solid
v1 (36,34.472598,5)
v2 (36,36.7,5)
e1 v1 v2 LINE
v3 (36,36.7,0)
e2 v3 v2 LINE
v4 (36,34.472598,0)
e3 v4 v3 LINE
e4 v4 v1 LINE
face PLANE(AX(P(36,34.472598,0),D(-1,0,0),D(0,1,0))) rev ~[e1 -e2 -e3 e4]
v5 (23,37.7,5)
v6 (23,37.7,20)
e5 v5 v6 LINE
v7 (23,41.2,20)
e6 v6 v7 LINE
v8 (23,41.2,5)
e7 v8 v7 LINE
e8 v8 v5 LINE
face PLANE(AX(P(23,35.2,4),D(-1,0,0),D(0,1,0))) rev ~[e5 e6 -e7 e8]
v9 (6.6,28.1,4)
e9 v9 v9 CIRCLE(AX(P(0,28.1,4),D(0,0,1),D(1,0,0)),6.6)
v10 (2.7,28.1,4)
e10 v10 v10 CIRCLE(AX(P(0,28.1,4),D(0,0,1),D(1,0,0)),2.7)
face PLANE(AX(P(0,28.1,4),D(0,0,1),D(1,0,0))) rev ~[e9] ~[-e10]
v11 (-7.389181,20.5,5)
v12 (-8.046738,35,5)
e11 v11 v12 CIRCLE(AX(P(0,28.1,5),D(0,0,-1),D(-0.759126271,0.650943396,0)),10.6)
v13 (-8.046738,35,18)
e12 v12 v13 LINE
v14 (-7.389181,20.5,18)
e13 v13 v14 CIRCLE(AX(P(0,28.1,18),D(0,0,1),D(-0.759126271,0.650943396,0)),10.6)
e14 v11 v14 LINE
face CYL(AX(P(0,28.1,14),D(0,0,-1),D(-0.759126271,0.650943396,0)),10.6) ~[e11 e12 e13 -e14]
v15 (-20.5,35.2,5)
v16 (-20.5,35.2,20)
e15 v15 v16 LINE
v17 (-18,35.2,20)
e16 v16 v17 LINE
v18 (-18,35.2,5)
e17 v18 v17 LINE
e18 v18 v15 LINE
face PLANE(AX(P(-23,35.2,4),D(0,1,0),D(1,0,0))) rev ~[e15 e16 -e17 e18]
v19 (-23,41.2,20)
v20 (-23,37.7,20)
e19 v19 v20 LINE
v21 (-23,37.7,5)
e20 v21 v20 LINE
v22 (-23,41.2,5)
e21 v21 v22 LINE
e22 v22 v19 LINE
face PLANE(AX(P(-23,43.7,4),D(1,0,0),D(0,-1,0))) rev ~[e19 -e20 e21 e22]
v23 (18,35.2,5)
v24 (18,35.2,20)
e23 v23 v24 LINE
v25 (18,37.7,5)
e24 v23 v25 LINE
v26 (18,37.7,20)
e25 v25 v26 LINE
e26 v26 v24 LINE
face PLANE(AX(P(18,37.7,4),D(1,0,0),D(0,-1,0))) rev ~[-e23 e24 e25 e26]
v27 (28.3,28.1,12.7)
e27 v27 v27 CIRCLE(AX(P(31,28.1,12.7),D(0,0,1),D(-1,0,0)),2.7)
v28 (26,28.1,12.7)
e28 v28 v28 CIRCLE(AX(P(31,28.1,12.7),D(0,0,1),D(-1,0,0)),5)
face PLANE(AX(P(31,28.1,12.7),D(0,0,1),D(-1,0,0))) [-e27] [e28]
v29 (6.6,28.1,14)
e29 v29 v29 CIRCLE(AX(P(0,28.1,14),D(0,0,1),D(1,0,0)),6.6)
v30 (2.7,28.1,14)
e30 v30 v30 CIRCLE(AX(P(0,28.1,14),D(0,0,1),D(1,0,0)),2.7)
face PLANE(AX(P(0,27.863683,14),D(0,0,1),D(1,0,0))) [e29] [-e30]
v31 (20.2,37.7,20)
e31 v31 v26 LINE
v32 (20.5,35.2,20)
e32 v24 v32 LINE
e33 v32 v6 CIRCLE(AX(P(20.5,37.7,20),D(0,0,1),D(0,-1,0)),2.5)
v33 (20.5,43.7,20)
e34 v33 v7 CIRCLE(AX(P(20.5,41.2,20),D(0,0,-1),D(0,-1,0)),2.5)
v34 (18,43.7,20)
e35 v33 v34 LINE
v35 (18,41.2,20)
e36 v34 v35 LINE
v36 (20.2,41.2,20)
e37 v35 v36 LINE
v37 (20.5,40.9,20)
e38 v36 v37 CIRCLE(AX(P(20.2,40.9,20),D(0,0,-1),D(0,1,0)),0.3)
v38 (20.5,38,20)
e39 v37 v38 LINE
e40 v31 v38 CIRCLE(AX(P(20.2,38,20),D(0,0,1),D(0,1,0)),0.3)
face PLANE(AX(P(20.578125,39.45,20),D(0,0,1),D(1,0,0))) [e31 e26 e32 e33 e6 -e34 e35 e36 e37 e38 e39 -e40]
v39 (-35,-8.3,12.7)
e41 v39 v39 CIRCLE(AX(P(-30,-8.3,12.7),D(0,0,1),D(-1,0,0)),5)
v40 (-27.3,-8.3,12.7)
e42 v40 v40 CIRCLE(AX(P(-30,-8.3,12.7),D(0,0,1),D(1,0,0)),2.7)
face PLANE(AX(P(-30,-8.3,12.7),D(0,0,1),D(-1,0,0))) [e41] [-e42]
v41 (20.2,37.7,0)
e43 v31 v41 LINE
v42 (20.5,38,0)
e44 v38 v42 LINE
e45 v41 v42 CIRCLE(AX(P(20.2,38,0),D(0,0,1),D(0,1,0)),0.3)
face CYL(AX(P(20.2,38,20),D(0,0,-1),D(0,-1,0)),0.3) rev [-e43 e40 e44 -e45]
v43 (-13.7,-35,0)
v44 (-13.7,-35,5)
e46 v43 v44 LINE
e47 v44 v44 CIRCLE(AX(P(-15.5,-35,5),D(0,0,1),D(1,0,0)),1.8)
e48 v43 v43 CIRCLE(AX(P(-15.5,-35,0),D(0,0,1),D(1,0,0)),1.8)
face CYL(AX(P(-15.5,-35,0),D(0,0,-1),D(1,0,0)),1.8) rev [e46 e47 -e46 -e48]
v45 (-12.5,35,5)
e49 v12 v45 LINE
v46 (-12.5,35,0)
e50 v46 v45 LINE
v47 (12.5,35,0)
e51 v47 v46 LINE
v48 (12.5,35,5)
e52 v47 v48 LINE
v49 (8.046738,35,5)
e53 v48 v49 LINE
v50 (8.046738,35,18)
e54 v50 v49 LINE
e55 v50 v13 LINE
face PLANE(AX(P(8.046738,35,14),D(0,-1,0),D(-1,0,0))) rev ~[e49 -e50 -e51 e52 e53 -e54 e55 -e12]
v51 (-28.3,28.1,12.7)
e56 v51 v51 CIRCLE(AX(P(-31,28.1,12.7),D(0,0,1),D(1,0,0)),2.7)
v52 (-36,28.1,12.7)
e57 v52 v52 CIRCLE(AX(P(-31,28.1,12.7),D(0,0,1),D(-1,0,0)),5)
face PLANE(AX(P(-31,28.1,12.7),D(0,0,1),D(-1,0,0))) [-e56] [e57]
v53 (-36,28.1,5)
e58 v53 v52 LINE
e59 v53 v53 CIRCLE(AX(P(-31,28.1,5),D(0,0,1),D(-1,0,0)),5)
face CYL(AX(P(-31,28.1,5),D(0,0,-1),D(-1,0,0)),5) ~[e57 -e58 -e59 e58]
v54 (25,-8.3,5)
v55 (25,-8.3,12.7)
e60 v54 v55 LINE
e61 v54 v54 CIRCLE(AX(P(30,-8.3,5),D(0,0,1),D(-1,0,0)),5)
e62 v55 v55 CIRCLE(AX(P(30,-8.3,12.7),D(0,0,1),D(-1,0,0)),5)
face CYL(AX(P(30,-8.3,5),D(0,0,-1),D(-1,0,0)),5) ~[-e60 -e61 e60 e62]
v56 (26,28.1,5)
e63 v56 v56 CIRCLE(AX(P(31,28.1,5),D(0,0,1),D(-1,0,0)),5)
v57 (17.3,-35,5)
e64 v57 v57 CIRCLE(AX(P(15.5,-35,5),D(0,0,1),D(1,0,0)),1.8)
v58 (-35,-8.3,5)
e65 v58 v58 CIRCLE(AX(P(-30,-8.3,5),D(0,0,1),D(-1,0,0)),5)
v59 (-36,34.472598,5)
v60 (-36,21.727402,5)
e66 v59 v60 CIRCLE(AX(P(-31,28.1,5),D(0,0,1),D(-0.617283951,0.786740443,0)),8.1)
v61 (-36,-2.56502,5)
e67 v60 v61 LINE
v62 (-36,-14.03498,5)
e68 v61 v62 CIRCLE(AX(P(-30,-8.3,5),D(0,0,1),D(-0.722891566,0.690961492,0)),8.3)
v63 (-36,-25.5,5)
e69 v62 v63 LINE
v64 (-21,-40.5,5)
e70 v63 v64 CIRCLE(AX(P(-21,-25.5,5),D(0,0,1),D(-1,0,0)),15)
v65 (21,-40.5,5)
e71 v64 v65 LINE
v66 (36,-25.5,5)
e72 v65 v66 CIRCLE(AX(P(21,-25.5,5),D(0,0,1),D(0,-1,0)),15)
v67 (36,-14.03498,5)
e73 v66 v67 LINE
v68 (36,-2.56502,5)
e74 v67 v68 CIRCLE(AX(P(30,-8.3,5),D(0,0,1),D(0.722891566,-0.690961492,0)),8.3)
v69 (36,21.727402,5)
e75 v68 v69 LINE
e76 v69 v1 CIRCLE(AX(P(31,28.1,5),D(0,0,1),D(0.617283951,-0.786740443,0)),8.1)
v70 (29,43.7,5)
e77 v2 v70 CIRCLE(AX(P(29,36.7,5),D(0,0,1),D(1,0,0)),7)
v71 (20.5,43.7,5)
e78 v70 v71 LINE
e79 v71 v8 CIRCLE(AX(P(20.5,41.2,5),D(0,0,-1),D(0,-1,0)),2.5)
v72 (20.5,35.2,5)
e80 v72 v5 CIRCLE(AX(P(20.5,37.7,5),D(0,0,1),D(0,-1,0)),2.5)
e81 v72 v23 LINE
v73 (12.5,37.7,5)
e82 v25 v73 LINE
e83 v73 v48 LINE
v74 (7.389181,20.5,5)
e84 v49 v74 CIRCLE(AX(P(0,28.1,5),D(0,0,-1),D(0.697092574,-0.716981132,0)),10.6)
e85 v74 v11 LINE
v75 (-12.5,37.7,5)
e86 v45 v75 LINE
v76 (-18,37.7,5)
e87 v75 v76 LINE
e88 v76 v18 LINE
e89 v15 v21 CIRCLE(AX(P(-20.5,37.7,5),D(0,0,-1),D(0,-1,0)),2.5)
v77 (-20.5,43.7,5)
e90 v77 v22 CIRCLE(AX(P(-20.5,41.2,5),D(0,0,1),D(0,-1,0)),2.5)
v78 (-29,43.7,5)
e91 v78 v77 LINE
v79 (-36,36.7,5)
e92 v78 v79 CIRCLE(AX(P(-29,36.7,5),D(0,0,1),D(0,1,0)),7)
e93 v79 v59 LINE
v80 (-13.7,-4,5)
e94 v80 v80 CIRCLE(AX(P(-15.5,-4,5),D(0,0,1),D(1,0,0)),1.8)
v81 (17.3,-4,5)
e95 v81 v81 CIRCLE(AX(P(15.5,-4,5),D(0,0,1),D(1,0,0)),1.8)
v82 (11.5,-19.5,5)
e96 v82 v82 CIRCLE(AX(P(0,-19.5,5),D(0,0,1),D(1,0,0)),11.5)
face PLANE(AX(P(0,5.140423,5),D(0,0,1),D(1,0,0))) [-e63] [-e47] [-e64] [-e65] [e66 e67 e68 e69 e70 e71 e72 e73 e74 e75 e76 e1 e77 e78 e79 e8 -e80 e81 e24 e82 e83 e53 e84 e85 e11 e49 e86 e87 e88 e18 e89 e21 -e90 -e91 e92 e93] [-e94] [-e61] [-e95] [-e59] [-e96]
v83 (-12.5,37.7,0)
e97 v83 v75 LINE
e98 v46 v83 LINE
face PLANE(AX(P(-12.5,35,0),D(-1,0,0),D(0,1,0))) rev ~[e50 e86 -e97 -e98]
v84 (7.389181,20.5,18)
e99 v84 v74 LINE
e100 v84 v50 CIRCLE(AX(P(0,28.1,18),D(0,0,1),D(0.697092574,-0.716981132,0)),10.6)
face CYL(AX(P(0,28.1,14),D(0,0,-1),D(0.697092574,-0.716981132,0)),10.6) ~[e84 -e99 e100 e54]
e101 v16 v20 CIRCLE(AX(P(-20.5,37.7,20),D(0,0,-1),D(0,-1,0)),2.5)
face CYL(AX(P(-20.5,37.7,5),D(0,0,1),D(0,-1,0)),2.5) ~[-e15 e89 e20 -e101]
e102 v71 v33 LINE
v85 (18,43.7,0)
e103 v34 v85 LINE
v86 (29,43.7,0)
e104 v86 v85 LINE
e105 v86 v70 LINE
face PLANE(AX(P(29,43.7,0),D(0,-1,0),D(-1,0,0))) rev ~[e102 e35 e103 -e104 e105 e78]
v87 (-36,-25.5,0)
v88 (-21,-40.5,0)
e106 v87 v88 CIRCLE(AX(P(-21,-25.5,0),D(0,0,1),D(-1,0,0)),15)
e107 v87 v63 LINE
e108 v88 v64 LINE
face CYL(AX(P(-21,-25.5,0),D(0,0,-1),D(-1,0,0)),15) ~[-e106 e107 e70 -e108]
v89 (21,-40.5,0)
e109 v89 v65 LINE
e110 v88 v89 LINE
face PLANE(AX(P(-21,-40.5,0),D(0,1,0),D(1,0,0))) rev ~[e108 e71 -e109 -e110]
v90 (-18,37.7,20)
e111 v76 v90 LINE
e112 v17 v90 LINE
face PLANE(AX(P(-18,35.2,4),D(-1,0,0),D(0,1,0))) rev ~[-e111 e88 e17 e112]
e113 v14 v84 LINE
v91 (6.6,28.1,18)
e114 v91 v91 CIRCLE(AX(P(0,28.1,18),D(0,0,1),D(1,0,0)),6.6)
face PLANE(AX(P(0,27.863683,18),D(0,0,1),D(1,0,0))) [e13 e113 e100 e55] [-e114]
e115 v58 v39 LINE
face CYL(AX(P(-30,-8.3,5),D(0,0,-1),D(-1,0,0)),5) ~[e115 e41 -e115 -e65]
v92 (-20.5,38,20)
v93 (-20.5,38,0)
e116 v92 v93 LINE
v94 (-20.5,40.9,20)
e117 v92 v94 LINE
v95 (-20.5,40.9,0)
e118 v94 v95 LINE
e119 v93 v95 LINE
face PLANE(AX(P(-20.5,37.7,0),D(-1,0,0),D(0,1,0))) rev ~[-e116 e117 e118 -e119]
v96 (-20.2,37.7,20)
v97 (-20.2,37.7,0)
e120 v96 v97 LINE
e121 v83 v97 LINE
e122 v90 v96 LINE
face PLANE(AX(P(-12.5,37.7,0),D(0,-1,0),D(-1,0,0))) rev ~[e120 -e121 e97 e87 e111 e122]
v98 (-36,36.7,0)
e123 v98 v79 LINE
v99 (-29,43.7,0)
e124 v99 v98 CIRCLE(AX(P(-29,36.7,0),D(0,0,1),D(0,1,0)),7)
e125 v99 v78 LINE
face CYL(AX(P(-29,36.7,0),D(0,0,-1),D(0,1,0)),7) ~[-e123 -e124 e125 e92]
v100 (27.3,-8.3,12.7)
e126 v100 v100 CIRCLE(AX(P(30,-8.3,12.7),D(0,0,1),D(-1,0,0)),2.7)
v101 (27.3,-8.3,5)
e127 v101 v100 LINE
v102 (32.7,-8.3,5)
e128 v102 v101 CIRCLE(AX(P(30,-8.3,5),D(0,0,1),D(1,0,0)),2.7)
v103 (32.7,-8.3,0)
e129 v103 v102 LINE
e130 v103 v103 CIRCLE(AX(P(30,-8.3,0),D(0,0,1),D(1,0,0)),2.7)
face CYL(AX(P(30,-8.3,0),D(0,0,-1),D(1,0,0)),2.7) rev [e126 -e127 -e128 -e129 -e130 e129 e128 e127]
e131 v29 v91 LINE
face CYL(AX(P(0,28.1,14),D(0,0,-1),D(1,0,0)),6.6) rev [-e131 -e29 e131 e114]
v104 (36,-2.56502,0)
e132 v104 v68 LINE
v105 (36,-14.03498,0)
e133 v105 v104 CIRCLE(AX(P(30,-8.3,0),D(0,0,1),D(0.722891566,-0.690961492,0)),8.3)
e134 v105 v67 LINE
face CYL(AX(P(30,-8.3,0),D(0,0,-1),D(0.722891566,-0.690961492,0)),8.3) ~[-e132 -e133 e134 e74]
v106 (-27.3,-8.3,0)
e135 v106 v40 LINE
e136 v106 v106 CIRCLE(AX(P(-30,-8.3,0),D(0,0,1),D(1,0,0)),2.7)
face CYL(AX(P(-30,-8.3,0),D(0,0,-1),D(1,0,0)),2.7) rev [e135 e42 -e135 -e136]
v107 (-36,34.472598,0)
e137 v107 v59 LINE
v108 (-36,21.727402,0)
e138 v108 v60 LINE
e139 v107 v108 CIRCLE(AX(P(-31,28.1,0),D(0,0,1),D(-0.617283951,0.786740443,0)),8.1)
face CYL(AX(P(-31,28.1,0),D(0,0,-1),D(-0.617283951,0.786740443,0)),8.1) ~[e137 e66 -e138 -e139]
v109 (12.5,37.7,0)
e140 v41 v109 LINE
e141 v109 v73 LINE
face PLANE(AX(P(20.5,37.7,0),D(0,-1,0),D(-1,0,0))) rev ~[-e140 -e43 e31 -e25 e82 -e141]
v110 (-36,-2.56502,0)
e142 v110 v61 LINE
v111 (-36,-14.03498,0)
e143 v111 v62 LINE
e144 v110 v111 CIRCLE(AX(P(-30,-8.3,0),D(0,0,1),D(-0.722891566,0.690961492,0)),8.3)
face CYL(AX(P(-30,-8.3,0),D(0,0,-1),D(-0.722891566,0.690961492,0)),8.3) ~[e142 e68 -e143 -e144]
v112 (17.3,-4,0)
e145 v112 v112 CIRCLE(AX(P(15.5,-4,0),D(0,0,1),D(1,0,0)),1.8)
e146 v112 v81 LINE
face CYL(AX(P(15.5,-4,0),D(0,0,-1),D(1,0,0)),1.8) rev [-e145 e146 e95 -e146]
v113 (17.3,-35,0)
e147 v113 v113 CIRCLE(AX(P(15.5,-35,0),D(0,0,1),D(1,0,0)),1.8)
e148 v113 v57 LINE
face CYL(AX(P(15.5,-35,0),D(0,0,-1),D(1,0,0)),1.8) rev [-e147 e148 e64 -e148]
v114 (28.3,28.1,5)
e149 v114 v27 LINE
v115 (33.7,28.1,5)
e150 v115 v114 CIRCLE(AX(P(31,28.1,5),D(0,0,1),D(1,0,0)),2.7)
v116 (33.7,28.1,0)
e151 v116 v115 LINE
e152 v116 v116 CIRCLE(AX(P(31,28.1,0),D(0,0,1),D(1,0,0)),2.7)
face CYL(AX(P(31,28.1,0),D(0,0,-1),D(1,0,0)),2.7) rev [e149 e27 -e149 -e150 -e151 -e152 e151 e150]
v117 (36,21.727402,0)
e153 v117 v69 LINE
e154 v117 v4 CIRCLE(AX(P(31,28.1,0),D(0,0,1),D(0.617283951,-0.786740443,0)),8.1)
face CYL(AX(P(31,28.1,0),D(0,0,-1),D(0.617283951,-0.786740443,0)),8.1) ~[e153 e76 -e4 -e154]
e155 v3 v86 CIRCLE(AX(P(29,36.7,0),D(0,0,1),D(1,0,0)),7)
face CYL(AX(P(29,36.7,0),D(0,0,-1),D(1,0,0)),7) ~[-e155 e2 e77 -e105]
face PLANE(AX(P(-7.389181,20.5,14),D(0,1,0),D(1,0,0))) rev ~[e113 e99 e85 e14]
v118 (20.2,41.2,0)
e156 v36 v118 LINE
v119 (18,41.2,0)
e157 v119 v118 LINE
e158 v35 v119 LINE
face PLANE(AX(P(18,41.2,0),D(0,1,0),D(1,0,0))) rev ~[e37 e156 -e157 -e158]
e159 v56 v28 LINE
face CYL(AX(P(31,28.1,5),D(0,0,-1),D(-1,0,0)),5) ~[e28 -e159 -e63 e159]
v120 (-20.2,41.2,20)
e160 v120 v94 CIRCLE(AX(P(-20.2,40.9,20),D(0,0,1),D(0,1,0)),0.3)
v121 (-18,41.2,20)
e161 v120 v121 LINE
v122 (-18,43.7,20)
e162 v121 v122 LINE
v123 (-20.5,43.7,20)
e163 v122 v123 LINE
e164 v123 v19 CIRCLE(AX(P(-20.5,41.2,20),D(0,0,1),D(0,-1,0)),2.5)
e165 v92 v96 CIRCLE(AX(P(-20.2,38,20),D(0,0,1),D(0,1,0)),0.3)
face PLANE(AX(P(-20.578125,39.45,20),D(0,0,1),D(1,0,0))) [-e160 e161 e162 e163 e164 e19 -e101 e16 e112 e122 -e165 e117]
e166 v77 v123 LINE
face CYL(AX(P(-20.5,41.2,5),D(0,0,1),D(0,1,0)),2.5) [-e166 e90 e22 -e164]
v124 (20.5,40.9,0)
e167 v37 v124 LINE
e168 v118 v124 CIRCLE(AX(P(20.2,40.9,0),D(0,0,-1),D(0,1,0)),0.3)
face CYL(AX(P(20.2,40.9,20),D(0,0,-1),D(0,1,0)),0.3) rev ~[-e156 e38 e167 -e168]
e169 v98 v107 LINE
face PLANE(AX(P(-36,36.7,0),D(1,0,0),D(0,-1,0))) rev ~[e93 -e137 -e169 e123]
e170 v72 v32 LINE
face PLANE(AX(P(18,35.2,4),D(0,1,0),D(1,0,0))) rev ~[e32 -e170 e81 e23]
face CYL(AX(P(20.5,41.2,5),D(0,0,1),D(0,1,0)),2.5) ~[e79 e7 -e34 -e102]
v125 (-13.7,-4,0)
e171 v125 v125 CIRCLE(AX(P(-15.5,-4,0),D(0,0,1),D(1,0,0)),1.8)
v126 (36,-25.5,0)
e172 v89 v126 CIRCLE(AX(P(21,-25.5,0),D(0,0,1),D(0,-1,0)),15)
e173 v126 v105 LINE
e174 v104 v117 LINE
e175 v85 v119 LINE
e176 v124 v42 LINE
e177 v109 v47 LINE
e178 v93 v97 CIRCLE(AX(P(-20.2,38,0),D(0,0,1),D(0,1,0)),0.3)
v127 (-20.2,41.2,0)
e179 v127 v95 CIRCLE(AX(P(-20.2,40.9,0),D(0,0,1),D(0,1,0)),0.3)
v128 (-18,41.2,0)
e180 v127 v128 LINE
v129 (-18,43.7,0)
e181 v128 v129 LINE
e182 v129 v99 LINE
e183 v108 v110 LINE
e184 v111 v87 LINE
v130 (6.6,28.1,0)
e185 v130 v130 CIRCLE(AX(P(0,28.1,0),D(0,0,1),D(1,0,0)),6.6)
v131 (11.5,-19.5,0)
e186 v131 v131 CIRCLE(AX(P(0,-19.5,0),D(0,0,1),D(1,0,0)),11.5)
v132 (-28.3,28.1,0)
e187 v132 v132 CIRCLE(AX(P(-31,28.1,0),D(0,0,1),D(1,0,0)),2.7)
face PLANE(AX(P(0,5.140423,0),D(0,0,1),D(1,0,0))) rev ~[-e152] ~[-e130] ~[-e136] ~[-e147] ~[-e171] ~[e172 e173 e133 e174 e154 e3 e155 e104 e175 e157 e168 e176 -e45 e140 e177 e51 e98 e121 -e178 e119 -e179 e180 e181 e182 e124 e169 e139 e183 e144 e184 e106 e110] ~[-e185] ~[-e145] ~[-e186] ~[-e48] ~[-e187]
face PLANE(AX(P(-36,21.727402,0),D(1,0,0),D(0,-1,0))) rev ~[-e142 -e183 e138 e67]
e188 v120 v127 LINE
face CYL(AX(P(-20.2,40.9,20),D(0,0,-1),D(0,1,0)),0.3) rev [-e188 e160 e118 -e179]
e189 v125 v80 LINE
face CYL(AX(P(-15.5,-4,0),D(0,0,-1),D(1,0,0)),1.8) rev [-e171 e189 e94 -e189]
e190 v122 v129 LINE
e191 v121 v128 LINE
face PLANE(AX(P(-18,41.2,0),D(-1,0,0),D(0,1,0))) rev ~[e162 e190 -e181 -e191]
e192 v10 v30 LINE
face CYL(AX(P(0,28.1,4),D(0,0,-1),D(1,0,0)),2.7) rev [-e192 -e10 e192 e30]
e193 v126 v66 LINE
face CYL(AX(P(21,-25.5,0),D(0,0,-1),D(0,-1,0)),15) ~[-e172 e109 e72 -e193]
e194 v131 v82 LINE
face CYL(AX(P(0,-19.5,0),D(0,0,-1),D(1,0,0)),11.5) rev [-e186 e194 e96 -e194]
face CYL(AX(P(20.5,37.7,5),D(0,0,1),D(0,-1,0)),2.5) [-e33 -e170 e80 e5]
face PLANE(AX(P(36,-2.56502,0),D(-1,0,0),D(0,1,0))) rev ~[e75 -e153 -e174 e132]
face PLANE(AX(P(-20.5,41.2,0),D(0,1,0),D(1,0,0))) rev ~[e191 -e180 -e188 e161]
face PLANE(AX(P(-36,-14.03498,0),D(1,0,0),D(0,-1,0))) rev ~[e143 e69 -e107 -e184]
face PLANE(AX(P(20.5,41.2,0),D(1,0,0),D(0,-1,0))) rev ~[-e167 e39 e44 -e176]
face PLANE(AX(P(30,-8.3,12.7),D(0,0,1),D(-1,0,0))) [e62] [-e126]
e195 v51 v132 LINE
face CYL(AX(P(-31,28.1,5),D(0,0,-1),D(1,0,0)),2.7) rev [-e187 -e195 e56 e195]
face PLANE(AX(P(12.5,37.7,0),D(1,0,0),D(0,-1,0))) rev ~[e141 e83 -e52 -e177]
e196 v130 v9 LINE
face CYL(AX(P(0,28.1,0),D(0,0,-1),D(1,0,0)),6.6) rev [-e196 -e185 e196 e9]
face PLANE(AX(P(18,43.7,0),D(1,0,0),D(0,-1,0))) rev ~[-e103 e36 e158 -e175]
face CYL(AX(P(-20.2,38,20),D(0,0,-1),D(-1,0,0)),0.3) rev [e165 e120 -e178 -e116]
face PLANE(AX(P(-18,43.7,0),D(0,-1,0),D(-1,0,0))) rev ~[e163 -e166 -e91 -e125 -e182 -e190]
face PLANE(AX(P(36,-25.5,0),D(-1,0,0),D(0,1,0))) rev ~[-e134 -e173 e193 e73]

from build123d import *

# Parameters (mm, degrees)
SKETCH_1_R      = 2.7
SKETCH_1_R_2    = 6.6
SKETCH_1_R_3    = 1.8
SKETCH_1_R_4    = 11.5
EXTRUDE_1_DEPTH = 5
EXTRUDE_START   = 4
EXTRUDE_3_DEPTH = 16
FILLET_1_R      = 2.5
FILLET_2_R      = 0.3
SKETCH_9_R      = 5
SKETCH_9_R_2    = 2.7
EXTRUDE_4_DEPTH = 7.7
SKETCH_1_5_R    = 6.6
SKETCH_1_5_R_2  = 2.7
EXTRUDE_5_DEPTH = 10
EXTRUDE_START_2 = 14
SKETCH_1_6_R    = 6.6
EXTRUDE_6_DEPTH = 4


with BuildPart() as part:
    # 草图1 → 凸台-拉伸1 (new body)
    with BuildSketch(Plane.XY):
        with BuildLine():
            ThreePointArc((-29, 43.7), (-33.949747468, 41.649747468), (-36, 36.7))
            Line((-36, 36.7), (-36, 34.472597587))
            ThreePointArc((-36, 34.472597587), (-39.1, 28.1), (-36, 21.727402413))
            Line((-36, 21.727402413), (-36, -2.565019616))
            ThreePointArc((-36, -2.565019616), (-38.3, -8.3), (-36, -14.034980384))
            Line((-36, -14.034980384), (-36, -25.5))
            ThreePointArc((-36, -25.5), (-31.606601718, -36.106601718), (-21, -40.5))
            Line((-21, -40.5), (21, -40.5))
            ThreePointArc((21, -40.5), (31.606601718, -36.106601718), (36, -25.5))
            Line((36, -25.5), (36, -14.034980384))
            ThreePointArc((36, -14.034980384), (38.3, -8.3), (36, -2.565019616))
            Line((36, -2.565019616), (36, 21.727402413))
            ThreePointArc((36, 21.727402413), (39.1, 28.1), (36, 34.472597587))
            Line((36, 34.472597587), (36, 36.7))
            ThreePointArc((36, 36.7), (33.949747468, 41.649747468), (29, 43.7))
            Line((29, 43.7), (18, 43.7))
            Line((18, 43.7), (18, 41.2))
            Line((18, 41.2), (20.5, 41.2))
            Line((20.5, 41.2), (20.5, 37.7))
            Line((20.5, 37.7), (12.5, 37.7))
            Line((12.5, 37.7), (12.5, 35))
            Line((12.5, 35), (-12.5, 35))
            Line((-12.5, 35), (-12.5, 37.7))
            Line((-12.5, 37.7), (-20.5, 37.7))
            Line((-20.5, 37.7), (-20.5, 41.2))
            Line((-20.5, 41.2), (-18, 41.2))
            Line((-18, 41.2), (-18, 43.7))
            Line((-18, 43.7), (-29, 43.7))
        make_face()
        with Locations((-31, 28.1)):
            Circle(SKETCH_1_R, mode=Mode.SUBTRACT)
        with Locations((-30, -8.3)):
            Circle(SKETCH_1_R, mode=Mode.SUBTRACT)
        with Locations((0, 28.1)):
            Circle(SKETCH_1_R_2, mode=Mode.SUBTRACT)
        with Locations((15.5, -4)):
            Circle(SKETCH_1_R_3, mode=Mode.SUBTRACT)
        with Locations((0, -19.5)):
            Circle(SKETCH_1_R_4, mode=Mode.SUBTRACT)
        with Locations((15.5, -35)):
            Circle(SKETCH_1_R_3, mode=Mode.SUBTRACT)
        with Locations((-15.5, -35)):
            Circle(SKETCH_1_R_3, mode=Mode.SUBTRACT)
        with Locations((-15.5, -4)):
            Circle(SKETCH_1_R_3, mode=Mode.SUBTRACT)
        with Locations((30, -8.3)):
            Circle(SKETCH_1_R, mode=Mode.SUBTRACT)
        with Locations((31, 28.1)):
            Circle(SKETCH_1_R, mode=Mode.SUBTRACT)
    extrude(amount=EXTRUDE_1_DEPTH)

    # 草图1<4> → 凸台-拉伸3 (add)
    with BuildSketch(Plane.XY.offset(EXTRUDE_START)):
        Polygon((-18, 43.7), (-23, 43.7), (-23, 35.2), (-18, 35.2), (-18, 37.7), (-20.5, 37.7), (-20.5, 41.2), (-18, 41.2), align=None)
        Polygon((20.5, 37.7), (18, 37.7), (18, 35.2), (23, 35.2), (23, 43.7), (18, 43.7), (18, 41.2), (20.5, 41.2), align=None)
    extrude(amount=EXTRUDE_3_DEPTH)

    # 圆角1
    fillet_1_edges = [part.edges().sort_by_distance(p)[0] for p in [
        (-23, 35.2, 12.5),
        (-23, 43.7, 12.5),
        (23, 35.2, 12.5),
        (23, 43.7, 12.5),
    ]]
    fillet(fillet_1_edges, radius=FILLET_1_R)

    # 圆角2
    fillet_2_edges = [part.edges().sort_by_distance(p)[0] for p in [
        (20.5, 37.7, 10),
        (20.5, 41.2, 10),
        (-20.5, 41.2, 10),
        (-20.5, 37.7, 10),
    ]]
    fillet(fillet_2_edges, radius=FILLET_2_R)

    # 草图9 → 凸台-拉伸4 (add)
    # profile 1 of 4: a face of its own
    with BuildSketch(Plane.XY.offset(5)):
        with Locations(Location((-31, 28.1, 0), (0, 0, 180))):
            Circle(SKETCH_9_R)
        with Locations((-31, 28.1)):
            Circle(SKETCH_9_R_2, mode=Mode.SUBTRACT)
    # profile 2 of 4: a face of its own
    with BuildSketch(Plane.XY.offset(5)):
        with Locations(Location((-30, -8.3, 0), (0, 0, 180))):
            Circle(SKETCH_9_R)
        with Locations((-30, -8.3)):
            Circle(SKETCH_9_R_2, mode=Mode.SUBTRACT)
    # profile 3 of 4: a face of its own
    with BuildSketch(Plane.XY.offset(5)):
        with Locations(Location((30, -8.3, 0), (0, 0, 180))):
            Circle(SKETCH_9_R)
        with Locations(Location((30, -8.3, 0), (0, 0, 180))):
            Circle(SKETCH_9_R_2, mode=Mode.SUBTRACT)
    # profile 4 of 4: a face of its own
    with BuildSketch(Plane.XY.offset(5)):
        with Locations(Location((31, 28.1, 0), (0, 0, 180))):
            Circle(SKETCH_9_R)
        with Locations(Location((31, 28.1, 0), (0, 0, 180))):
            Circle(SKETCH_9_R_2, mode=Mode.SUBTRACT)
    extrude(amount=EXTRUDE_4_DEPTH)

    # 草图1<5> → 凸台-拉伸5 (add)
    # profile 1 of 2: a face of its own
    with BuildSketch(Plane.XY.offset(EXTRUDE_START)):
        with BuildLine():
            Line((8.04673847, 35), (-8.04673847, 35))
            ThreePointArc((-8.04673847, 35), (-10.589117274, 27.619796539), (-7.389181281, 20.5))
            Line((-7.389181281, 20.5), (7.389181281, 20.5))
            ThreePointArc((7.389181281, 20.5), (10.589117274, 27.619796539), (8.04673847, 35))
        make_face()
        with Locations((0, 28.1)):
            Circle(SKETCH_1_5_R, mode=Mode.SUBTRACT)
    # profile 2 of 2: a face of its own
    with BuildSketch(Plane.XY.offset(EXTRUDE_START)):
        with Locations((0, 28.1)):
            Circle(SKETCH_1_5_R)
        with Locations((0, 28.1)):
            Circle(SKETCH_1_5_R_2, mode=Mode.SUBTRACT)
    extrude(amount=EXTRUDE_5_DEPTH)

    # 草图1<6> → 凸台-拉伸6 (add)
    with BuildSketch(Plane.XY.offset(EXTRUDE_START_2)):
        with BuildLine():
            Line((8.04673847, 35), (-8.04673847, 35))
            ThreePointArc((-8.04673847, 35), (-10.589117274, 27.619796539), (-7.389181281, 20.5))
            Line((-7.389181281, 20.5), (7.389181281, 20.5))
            ThreePointArc((7.389181281, 20.5), (10.589117274, 27.619796539), (8.04673847, 35))
        make_face()
        with Locations((0, 28.1)):
            Circle(SKETCH_1_6_R, mode=Mode.SUBTRACT)
    extrude(amount=EXTRUDE_6_DEPTH)


solid = part.part
